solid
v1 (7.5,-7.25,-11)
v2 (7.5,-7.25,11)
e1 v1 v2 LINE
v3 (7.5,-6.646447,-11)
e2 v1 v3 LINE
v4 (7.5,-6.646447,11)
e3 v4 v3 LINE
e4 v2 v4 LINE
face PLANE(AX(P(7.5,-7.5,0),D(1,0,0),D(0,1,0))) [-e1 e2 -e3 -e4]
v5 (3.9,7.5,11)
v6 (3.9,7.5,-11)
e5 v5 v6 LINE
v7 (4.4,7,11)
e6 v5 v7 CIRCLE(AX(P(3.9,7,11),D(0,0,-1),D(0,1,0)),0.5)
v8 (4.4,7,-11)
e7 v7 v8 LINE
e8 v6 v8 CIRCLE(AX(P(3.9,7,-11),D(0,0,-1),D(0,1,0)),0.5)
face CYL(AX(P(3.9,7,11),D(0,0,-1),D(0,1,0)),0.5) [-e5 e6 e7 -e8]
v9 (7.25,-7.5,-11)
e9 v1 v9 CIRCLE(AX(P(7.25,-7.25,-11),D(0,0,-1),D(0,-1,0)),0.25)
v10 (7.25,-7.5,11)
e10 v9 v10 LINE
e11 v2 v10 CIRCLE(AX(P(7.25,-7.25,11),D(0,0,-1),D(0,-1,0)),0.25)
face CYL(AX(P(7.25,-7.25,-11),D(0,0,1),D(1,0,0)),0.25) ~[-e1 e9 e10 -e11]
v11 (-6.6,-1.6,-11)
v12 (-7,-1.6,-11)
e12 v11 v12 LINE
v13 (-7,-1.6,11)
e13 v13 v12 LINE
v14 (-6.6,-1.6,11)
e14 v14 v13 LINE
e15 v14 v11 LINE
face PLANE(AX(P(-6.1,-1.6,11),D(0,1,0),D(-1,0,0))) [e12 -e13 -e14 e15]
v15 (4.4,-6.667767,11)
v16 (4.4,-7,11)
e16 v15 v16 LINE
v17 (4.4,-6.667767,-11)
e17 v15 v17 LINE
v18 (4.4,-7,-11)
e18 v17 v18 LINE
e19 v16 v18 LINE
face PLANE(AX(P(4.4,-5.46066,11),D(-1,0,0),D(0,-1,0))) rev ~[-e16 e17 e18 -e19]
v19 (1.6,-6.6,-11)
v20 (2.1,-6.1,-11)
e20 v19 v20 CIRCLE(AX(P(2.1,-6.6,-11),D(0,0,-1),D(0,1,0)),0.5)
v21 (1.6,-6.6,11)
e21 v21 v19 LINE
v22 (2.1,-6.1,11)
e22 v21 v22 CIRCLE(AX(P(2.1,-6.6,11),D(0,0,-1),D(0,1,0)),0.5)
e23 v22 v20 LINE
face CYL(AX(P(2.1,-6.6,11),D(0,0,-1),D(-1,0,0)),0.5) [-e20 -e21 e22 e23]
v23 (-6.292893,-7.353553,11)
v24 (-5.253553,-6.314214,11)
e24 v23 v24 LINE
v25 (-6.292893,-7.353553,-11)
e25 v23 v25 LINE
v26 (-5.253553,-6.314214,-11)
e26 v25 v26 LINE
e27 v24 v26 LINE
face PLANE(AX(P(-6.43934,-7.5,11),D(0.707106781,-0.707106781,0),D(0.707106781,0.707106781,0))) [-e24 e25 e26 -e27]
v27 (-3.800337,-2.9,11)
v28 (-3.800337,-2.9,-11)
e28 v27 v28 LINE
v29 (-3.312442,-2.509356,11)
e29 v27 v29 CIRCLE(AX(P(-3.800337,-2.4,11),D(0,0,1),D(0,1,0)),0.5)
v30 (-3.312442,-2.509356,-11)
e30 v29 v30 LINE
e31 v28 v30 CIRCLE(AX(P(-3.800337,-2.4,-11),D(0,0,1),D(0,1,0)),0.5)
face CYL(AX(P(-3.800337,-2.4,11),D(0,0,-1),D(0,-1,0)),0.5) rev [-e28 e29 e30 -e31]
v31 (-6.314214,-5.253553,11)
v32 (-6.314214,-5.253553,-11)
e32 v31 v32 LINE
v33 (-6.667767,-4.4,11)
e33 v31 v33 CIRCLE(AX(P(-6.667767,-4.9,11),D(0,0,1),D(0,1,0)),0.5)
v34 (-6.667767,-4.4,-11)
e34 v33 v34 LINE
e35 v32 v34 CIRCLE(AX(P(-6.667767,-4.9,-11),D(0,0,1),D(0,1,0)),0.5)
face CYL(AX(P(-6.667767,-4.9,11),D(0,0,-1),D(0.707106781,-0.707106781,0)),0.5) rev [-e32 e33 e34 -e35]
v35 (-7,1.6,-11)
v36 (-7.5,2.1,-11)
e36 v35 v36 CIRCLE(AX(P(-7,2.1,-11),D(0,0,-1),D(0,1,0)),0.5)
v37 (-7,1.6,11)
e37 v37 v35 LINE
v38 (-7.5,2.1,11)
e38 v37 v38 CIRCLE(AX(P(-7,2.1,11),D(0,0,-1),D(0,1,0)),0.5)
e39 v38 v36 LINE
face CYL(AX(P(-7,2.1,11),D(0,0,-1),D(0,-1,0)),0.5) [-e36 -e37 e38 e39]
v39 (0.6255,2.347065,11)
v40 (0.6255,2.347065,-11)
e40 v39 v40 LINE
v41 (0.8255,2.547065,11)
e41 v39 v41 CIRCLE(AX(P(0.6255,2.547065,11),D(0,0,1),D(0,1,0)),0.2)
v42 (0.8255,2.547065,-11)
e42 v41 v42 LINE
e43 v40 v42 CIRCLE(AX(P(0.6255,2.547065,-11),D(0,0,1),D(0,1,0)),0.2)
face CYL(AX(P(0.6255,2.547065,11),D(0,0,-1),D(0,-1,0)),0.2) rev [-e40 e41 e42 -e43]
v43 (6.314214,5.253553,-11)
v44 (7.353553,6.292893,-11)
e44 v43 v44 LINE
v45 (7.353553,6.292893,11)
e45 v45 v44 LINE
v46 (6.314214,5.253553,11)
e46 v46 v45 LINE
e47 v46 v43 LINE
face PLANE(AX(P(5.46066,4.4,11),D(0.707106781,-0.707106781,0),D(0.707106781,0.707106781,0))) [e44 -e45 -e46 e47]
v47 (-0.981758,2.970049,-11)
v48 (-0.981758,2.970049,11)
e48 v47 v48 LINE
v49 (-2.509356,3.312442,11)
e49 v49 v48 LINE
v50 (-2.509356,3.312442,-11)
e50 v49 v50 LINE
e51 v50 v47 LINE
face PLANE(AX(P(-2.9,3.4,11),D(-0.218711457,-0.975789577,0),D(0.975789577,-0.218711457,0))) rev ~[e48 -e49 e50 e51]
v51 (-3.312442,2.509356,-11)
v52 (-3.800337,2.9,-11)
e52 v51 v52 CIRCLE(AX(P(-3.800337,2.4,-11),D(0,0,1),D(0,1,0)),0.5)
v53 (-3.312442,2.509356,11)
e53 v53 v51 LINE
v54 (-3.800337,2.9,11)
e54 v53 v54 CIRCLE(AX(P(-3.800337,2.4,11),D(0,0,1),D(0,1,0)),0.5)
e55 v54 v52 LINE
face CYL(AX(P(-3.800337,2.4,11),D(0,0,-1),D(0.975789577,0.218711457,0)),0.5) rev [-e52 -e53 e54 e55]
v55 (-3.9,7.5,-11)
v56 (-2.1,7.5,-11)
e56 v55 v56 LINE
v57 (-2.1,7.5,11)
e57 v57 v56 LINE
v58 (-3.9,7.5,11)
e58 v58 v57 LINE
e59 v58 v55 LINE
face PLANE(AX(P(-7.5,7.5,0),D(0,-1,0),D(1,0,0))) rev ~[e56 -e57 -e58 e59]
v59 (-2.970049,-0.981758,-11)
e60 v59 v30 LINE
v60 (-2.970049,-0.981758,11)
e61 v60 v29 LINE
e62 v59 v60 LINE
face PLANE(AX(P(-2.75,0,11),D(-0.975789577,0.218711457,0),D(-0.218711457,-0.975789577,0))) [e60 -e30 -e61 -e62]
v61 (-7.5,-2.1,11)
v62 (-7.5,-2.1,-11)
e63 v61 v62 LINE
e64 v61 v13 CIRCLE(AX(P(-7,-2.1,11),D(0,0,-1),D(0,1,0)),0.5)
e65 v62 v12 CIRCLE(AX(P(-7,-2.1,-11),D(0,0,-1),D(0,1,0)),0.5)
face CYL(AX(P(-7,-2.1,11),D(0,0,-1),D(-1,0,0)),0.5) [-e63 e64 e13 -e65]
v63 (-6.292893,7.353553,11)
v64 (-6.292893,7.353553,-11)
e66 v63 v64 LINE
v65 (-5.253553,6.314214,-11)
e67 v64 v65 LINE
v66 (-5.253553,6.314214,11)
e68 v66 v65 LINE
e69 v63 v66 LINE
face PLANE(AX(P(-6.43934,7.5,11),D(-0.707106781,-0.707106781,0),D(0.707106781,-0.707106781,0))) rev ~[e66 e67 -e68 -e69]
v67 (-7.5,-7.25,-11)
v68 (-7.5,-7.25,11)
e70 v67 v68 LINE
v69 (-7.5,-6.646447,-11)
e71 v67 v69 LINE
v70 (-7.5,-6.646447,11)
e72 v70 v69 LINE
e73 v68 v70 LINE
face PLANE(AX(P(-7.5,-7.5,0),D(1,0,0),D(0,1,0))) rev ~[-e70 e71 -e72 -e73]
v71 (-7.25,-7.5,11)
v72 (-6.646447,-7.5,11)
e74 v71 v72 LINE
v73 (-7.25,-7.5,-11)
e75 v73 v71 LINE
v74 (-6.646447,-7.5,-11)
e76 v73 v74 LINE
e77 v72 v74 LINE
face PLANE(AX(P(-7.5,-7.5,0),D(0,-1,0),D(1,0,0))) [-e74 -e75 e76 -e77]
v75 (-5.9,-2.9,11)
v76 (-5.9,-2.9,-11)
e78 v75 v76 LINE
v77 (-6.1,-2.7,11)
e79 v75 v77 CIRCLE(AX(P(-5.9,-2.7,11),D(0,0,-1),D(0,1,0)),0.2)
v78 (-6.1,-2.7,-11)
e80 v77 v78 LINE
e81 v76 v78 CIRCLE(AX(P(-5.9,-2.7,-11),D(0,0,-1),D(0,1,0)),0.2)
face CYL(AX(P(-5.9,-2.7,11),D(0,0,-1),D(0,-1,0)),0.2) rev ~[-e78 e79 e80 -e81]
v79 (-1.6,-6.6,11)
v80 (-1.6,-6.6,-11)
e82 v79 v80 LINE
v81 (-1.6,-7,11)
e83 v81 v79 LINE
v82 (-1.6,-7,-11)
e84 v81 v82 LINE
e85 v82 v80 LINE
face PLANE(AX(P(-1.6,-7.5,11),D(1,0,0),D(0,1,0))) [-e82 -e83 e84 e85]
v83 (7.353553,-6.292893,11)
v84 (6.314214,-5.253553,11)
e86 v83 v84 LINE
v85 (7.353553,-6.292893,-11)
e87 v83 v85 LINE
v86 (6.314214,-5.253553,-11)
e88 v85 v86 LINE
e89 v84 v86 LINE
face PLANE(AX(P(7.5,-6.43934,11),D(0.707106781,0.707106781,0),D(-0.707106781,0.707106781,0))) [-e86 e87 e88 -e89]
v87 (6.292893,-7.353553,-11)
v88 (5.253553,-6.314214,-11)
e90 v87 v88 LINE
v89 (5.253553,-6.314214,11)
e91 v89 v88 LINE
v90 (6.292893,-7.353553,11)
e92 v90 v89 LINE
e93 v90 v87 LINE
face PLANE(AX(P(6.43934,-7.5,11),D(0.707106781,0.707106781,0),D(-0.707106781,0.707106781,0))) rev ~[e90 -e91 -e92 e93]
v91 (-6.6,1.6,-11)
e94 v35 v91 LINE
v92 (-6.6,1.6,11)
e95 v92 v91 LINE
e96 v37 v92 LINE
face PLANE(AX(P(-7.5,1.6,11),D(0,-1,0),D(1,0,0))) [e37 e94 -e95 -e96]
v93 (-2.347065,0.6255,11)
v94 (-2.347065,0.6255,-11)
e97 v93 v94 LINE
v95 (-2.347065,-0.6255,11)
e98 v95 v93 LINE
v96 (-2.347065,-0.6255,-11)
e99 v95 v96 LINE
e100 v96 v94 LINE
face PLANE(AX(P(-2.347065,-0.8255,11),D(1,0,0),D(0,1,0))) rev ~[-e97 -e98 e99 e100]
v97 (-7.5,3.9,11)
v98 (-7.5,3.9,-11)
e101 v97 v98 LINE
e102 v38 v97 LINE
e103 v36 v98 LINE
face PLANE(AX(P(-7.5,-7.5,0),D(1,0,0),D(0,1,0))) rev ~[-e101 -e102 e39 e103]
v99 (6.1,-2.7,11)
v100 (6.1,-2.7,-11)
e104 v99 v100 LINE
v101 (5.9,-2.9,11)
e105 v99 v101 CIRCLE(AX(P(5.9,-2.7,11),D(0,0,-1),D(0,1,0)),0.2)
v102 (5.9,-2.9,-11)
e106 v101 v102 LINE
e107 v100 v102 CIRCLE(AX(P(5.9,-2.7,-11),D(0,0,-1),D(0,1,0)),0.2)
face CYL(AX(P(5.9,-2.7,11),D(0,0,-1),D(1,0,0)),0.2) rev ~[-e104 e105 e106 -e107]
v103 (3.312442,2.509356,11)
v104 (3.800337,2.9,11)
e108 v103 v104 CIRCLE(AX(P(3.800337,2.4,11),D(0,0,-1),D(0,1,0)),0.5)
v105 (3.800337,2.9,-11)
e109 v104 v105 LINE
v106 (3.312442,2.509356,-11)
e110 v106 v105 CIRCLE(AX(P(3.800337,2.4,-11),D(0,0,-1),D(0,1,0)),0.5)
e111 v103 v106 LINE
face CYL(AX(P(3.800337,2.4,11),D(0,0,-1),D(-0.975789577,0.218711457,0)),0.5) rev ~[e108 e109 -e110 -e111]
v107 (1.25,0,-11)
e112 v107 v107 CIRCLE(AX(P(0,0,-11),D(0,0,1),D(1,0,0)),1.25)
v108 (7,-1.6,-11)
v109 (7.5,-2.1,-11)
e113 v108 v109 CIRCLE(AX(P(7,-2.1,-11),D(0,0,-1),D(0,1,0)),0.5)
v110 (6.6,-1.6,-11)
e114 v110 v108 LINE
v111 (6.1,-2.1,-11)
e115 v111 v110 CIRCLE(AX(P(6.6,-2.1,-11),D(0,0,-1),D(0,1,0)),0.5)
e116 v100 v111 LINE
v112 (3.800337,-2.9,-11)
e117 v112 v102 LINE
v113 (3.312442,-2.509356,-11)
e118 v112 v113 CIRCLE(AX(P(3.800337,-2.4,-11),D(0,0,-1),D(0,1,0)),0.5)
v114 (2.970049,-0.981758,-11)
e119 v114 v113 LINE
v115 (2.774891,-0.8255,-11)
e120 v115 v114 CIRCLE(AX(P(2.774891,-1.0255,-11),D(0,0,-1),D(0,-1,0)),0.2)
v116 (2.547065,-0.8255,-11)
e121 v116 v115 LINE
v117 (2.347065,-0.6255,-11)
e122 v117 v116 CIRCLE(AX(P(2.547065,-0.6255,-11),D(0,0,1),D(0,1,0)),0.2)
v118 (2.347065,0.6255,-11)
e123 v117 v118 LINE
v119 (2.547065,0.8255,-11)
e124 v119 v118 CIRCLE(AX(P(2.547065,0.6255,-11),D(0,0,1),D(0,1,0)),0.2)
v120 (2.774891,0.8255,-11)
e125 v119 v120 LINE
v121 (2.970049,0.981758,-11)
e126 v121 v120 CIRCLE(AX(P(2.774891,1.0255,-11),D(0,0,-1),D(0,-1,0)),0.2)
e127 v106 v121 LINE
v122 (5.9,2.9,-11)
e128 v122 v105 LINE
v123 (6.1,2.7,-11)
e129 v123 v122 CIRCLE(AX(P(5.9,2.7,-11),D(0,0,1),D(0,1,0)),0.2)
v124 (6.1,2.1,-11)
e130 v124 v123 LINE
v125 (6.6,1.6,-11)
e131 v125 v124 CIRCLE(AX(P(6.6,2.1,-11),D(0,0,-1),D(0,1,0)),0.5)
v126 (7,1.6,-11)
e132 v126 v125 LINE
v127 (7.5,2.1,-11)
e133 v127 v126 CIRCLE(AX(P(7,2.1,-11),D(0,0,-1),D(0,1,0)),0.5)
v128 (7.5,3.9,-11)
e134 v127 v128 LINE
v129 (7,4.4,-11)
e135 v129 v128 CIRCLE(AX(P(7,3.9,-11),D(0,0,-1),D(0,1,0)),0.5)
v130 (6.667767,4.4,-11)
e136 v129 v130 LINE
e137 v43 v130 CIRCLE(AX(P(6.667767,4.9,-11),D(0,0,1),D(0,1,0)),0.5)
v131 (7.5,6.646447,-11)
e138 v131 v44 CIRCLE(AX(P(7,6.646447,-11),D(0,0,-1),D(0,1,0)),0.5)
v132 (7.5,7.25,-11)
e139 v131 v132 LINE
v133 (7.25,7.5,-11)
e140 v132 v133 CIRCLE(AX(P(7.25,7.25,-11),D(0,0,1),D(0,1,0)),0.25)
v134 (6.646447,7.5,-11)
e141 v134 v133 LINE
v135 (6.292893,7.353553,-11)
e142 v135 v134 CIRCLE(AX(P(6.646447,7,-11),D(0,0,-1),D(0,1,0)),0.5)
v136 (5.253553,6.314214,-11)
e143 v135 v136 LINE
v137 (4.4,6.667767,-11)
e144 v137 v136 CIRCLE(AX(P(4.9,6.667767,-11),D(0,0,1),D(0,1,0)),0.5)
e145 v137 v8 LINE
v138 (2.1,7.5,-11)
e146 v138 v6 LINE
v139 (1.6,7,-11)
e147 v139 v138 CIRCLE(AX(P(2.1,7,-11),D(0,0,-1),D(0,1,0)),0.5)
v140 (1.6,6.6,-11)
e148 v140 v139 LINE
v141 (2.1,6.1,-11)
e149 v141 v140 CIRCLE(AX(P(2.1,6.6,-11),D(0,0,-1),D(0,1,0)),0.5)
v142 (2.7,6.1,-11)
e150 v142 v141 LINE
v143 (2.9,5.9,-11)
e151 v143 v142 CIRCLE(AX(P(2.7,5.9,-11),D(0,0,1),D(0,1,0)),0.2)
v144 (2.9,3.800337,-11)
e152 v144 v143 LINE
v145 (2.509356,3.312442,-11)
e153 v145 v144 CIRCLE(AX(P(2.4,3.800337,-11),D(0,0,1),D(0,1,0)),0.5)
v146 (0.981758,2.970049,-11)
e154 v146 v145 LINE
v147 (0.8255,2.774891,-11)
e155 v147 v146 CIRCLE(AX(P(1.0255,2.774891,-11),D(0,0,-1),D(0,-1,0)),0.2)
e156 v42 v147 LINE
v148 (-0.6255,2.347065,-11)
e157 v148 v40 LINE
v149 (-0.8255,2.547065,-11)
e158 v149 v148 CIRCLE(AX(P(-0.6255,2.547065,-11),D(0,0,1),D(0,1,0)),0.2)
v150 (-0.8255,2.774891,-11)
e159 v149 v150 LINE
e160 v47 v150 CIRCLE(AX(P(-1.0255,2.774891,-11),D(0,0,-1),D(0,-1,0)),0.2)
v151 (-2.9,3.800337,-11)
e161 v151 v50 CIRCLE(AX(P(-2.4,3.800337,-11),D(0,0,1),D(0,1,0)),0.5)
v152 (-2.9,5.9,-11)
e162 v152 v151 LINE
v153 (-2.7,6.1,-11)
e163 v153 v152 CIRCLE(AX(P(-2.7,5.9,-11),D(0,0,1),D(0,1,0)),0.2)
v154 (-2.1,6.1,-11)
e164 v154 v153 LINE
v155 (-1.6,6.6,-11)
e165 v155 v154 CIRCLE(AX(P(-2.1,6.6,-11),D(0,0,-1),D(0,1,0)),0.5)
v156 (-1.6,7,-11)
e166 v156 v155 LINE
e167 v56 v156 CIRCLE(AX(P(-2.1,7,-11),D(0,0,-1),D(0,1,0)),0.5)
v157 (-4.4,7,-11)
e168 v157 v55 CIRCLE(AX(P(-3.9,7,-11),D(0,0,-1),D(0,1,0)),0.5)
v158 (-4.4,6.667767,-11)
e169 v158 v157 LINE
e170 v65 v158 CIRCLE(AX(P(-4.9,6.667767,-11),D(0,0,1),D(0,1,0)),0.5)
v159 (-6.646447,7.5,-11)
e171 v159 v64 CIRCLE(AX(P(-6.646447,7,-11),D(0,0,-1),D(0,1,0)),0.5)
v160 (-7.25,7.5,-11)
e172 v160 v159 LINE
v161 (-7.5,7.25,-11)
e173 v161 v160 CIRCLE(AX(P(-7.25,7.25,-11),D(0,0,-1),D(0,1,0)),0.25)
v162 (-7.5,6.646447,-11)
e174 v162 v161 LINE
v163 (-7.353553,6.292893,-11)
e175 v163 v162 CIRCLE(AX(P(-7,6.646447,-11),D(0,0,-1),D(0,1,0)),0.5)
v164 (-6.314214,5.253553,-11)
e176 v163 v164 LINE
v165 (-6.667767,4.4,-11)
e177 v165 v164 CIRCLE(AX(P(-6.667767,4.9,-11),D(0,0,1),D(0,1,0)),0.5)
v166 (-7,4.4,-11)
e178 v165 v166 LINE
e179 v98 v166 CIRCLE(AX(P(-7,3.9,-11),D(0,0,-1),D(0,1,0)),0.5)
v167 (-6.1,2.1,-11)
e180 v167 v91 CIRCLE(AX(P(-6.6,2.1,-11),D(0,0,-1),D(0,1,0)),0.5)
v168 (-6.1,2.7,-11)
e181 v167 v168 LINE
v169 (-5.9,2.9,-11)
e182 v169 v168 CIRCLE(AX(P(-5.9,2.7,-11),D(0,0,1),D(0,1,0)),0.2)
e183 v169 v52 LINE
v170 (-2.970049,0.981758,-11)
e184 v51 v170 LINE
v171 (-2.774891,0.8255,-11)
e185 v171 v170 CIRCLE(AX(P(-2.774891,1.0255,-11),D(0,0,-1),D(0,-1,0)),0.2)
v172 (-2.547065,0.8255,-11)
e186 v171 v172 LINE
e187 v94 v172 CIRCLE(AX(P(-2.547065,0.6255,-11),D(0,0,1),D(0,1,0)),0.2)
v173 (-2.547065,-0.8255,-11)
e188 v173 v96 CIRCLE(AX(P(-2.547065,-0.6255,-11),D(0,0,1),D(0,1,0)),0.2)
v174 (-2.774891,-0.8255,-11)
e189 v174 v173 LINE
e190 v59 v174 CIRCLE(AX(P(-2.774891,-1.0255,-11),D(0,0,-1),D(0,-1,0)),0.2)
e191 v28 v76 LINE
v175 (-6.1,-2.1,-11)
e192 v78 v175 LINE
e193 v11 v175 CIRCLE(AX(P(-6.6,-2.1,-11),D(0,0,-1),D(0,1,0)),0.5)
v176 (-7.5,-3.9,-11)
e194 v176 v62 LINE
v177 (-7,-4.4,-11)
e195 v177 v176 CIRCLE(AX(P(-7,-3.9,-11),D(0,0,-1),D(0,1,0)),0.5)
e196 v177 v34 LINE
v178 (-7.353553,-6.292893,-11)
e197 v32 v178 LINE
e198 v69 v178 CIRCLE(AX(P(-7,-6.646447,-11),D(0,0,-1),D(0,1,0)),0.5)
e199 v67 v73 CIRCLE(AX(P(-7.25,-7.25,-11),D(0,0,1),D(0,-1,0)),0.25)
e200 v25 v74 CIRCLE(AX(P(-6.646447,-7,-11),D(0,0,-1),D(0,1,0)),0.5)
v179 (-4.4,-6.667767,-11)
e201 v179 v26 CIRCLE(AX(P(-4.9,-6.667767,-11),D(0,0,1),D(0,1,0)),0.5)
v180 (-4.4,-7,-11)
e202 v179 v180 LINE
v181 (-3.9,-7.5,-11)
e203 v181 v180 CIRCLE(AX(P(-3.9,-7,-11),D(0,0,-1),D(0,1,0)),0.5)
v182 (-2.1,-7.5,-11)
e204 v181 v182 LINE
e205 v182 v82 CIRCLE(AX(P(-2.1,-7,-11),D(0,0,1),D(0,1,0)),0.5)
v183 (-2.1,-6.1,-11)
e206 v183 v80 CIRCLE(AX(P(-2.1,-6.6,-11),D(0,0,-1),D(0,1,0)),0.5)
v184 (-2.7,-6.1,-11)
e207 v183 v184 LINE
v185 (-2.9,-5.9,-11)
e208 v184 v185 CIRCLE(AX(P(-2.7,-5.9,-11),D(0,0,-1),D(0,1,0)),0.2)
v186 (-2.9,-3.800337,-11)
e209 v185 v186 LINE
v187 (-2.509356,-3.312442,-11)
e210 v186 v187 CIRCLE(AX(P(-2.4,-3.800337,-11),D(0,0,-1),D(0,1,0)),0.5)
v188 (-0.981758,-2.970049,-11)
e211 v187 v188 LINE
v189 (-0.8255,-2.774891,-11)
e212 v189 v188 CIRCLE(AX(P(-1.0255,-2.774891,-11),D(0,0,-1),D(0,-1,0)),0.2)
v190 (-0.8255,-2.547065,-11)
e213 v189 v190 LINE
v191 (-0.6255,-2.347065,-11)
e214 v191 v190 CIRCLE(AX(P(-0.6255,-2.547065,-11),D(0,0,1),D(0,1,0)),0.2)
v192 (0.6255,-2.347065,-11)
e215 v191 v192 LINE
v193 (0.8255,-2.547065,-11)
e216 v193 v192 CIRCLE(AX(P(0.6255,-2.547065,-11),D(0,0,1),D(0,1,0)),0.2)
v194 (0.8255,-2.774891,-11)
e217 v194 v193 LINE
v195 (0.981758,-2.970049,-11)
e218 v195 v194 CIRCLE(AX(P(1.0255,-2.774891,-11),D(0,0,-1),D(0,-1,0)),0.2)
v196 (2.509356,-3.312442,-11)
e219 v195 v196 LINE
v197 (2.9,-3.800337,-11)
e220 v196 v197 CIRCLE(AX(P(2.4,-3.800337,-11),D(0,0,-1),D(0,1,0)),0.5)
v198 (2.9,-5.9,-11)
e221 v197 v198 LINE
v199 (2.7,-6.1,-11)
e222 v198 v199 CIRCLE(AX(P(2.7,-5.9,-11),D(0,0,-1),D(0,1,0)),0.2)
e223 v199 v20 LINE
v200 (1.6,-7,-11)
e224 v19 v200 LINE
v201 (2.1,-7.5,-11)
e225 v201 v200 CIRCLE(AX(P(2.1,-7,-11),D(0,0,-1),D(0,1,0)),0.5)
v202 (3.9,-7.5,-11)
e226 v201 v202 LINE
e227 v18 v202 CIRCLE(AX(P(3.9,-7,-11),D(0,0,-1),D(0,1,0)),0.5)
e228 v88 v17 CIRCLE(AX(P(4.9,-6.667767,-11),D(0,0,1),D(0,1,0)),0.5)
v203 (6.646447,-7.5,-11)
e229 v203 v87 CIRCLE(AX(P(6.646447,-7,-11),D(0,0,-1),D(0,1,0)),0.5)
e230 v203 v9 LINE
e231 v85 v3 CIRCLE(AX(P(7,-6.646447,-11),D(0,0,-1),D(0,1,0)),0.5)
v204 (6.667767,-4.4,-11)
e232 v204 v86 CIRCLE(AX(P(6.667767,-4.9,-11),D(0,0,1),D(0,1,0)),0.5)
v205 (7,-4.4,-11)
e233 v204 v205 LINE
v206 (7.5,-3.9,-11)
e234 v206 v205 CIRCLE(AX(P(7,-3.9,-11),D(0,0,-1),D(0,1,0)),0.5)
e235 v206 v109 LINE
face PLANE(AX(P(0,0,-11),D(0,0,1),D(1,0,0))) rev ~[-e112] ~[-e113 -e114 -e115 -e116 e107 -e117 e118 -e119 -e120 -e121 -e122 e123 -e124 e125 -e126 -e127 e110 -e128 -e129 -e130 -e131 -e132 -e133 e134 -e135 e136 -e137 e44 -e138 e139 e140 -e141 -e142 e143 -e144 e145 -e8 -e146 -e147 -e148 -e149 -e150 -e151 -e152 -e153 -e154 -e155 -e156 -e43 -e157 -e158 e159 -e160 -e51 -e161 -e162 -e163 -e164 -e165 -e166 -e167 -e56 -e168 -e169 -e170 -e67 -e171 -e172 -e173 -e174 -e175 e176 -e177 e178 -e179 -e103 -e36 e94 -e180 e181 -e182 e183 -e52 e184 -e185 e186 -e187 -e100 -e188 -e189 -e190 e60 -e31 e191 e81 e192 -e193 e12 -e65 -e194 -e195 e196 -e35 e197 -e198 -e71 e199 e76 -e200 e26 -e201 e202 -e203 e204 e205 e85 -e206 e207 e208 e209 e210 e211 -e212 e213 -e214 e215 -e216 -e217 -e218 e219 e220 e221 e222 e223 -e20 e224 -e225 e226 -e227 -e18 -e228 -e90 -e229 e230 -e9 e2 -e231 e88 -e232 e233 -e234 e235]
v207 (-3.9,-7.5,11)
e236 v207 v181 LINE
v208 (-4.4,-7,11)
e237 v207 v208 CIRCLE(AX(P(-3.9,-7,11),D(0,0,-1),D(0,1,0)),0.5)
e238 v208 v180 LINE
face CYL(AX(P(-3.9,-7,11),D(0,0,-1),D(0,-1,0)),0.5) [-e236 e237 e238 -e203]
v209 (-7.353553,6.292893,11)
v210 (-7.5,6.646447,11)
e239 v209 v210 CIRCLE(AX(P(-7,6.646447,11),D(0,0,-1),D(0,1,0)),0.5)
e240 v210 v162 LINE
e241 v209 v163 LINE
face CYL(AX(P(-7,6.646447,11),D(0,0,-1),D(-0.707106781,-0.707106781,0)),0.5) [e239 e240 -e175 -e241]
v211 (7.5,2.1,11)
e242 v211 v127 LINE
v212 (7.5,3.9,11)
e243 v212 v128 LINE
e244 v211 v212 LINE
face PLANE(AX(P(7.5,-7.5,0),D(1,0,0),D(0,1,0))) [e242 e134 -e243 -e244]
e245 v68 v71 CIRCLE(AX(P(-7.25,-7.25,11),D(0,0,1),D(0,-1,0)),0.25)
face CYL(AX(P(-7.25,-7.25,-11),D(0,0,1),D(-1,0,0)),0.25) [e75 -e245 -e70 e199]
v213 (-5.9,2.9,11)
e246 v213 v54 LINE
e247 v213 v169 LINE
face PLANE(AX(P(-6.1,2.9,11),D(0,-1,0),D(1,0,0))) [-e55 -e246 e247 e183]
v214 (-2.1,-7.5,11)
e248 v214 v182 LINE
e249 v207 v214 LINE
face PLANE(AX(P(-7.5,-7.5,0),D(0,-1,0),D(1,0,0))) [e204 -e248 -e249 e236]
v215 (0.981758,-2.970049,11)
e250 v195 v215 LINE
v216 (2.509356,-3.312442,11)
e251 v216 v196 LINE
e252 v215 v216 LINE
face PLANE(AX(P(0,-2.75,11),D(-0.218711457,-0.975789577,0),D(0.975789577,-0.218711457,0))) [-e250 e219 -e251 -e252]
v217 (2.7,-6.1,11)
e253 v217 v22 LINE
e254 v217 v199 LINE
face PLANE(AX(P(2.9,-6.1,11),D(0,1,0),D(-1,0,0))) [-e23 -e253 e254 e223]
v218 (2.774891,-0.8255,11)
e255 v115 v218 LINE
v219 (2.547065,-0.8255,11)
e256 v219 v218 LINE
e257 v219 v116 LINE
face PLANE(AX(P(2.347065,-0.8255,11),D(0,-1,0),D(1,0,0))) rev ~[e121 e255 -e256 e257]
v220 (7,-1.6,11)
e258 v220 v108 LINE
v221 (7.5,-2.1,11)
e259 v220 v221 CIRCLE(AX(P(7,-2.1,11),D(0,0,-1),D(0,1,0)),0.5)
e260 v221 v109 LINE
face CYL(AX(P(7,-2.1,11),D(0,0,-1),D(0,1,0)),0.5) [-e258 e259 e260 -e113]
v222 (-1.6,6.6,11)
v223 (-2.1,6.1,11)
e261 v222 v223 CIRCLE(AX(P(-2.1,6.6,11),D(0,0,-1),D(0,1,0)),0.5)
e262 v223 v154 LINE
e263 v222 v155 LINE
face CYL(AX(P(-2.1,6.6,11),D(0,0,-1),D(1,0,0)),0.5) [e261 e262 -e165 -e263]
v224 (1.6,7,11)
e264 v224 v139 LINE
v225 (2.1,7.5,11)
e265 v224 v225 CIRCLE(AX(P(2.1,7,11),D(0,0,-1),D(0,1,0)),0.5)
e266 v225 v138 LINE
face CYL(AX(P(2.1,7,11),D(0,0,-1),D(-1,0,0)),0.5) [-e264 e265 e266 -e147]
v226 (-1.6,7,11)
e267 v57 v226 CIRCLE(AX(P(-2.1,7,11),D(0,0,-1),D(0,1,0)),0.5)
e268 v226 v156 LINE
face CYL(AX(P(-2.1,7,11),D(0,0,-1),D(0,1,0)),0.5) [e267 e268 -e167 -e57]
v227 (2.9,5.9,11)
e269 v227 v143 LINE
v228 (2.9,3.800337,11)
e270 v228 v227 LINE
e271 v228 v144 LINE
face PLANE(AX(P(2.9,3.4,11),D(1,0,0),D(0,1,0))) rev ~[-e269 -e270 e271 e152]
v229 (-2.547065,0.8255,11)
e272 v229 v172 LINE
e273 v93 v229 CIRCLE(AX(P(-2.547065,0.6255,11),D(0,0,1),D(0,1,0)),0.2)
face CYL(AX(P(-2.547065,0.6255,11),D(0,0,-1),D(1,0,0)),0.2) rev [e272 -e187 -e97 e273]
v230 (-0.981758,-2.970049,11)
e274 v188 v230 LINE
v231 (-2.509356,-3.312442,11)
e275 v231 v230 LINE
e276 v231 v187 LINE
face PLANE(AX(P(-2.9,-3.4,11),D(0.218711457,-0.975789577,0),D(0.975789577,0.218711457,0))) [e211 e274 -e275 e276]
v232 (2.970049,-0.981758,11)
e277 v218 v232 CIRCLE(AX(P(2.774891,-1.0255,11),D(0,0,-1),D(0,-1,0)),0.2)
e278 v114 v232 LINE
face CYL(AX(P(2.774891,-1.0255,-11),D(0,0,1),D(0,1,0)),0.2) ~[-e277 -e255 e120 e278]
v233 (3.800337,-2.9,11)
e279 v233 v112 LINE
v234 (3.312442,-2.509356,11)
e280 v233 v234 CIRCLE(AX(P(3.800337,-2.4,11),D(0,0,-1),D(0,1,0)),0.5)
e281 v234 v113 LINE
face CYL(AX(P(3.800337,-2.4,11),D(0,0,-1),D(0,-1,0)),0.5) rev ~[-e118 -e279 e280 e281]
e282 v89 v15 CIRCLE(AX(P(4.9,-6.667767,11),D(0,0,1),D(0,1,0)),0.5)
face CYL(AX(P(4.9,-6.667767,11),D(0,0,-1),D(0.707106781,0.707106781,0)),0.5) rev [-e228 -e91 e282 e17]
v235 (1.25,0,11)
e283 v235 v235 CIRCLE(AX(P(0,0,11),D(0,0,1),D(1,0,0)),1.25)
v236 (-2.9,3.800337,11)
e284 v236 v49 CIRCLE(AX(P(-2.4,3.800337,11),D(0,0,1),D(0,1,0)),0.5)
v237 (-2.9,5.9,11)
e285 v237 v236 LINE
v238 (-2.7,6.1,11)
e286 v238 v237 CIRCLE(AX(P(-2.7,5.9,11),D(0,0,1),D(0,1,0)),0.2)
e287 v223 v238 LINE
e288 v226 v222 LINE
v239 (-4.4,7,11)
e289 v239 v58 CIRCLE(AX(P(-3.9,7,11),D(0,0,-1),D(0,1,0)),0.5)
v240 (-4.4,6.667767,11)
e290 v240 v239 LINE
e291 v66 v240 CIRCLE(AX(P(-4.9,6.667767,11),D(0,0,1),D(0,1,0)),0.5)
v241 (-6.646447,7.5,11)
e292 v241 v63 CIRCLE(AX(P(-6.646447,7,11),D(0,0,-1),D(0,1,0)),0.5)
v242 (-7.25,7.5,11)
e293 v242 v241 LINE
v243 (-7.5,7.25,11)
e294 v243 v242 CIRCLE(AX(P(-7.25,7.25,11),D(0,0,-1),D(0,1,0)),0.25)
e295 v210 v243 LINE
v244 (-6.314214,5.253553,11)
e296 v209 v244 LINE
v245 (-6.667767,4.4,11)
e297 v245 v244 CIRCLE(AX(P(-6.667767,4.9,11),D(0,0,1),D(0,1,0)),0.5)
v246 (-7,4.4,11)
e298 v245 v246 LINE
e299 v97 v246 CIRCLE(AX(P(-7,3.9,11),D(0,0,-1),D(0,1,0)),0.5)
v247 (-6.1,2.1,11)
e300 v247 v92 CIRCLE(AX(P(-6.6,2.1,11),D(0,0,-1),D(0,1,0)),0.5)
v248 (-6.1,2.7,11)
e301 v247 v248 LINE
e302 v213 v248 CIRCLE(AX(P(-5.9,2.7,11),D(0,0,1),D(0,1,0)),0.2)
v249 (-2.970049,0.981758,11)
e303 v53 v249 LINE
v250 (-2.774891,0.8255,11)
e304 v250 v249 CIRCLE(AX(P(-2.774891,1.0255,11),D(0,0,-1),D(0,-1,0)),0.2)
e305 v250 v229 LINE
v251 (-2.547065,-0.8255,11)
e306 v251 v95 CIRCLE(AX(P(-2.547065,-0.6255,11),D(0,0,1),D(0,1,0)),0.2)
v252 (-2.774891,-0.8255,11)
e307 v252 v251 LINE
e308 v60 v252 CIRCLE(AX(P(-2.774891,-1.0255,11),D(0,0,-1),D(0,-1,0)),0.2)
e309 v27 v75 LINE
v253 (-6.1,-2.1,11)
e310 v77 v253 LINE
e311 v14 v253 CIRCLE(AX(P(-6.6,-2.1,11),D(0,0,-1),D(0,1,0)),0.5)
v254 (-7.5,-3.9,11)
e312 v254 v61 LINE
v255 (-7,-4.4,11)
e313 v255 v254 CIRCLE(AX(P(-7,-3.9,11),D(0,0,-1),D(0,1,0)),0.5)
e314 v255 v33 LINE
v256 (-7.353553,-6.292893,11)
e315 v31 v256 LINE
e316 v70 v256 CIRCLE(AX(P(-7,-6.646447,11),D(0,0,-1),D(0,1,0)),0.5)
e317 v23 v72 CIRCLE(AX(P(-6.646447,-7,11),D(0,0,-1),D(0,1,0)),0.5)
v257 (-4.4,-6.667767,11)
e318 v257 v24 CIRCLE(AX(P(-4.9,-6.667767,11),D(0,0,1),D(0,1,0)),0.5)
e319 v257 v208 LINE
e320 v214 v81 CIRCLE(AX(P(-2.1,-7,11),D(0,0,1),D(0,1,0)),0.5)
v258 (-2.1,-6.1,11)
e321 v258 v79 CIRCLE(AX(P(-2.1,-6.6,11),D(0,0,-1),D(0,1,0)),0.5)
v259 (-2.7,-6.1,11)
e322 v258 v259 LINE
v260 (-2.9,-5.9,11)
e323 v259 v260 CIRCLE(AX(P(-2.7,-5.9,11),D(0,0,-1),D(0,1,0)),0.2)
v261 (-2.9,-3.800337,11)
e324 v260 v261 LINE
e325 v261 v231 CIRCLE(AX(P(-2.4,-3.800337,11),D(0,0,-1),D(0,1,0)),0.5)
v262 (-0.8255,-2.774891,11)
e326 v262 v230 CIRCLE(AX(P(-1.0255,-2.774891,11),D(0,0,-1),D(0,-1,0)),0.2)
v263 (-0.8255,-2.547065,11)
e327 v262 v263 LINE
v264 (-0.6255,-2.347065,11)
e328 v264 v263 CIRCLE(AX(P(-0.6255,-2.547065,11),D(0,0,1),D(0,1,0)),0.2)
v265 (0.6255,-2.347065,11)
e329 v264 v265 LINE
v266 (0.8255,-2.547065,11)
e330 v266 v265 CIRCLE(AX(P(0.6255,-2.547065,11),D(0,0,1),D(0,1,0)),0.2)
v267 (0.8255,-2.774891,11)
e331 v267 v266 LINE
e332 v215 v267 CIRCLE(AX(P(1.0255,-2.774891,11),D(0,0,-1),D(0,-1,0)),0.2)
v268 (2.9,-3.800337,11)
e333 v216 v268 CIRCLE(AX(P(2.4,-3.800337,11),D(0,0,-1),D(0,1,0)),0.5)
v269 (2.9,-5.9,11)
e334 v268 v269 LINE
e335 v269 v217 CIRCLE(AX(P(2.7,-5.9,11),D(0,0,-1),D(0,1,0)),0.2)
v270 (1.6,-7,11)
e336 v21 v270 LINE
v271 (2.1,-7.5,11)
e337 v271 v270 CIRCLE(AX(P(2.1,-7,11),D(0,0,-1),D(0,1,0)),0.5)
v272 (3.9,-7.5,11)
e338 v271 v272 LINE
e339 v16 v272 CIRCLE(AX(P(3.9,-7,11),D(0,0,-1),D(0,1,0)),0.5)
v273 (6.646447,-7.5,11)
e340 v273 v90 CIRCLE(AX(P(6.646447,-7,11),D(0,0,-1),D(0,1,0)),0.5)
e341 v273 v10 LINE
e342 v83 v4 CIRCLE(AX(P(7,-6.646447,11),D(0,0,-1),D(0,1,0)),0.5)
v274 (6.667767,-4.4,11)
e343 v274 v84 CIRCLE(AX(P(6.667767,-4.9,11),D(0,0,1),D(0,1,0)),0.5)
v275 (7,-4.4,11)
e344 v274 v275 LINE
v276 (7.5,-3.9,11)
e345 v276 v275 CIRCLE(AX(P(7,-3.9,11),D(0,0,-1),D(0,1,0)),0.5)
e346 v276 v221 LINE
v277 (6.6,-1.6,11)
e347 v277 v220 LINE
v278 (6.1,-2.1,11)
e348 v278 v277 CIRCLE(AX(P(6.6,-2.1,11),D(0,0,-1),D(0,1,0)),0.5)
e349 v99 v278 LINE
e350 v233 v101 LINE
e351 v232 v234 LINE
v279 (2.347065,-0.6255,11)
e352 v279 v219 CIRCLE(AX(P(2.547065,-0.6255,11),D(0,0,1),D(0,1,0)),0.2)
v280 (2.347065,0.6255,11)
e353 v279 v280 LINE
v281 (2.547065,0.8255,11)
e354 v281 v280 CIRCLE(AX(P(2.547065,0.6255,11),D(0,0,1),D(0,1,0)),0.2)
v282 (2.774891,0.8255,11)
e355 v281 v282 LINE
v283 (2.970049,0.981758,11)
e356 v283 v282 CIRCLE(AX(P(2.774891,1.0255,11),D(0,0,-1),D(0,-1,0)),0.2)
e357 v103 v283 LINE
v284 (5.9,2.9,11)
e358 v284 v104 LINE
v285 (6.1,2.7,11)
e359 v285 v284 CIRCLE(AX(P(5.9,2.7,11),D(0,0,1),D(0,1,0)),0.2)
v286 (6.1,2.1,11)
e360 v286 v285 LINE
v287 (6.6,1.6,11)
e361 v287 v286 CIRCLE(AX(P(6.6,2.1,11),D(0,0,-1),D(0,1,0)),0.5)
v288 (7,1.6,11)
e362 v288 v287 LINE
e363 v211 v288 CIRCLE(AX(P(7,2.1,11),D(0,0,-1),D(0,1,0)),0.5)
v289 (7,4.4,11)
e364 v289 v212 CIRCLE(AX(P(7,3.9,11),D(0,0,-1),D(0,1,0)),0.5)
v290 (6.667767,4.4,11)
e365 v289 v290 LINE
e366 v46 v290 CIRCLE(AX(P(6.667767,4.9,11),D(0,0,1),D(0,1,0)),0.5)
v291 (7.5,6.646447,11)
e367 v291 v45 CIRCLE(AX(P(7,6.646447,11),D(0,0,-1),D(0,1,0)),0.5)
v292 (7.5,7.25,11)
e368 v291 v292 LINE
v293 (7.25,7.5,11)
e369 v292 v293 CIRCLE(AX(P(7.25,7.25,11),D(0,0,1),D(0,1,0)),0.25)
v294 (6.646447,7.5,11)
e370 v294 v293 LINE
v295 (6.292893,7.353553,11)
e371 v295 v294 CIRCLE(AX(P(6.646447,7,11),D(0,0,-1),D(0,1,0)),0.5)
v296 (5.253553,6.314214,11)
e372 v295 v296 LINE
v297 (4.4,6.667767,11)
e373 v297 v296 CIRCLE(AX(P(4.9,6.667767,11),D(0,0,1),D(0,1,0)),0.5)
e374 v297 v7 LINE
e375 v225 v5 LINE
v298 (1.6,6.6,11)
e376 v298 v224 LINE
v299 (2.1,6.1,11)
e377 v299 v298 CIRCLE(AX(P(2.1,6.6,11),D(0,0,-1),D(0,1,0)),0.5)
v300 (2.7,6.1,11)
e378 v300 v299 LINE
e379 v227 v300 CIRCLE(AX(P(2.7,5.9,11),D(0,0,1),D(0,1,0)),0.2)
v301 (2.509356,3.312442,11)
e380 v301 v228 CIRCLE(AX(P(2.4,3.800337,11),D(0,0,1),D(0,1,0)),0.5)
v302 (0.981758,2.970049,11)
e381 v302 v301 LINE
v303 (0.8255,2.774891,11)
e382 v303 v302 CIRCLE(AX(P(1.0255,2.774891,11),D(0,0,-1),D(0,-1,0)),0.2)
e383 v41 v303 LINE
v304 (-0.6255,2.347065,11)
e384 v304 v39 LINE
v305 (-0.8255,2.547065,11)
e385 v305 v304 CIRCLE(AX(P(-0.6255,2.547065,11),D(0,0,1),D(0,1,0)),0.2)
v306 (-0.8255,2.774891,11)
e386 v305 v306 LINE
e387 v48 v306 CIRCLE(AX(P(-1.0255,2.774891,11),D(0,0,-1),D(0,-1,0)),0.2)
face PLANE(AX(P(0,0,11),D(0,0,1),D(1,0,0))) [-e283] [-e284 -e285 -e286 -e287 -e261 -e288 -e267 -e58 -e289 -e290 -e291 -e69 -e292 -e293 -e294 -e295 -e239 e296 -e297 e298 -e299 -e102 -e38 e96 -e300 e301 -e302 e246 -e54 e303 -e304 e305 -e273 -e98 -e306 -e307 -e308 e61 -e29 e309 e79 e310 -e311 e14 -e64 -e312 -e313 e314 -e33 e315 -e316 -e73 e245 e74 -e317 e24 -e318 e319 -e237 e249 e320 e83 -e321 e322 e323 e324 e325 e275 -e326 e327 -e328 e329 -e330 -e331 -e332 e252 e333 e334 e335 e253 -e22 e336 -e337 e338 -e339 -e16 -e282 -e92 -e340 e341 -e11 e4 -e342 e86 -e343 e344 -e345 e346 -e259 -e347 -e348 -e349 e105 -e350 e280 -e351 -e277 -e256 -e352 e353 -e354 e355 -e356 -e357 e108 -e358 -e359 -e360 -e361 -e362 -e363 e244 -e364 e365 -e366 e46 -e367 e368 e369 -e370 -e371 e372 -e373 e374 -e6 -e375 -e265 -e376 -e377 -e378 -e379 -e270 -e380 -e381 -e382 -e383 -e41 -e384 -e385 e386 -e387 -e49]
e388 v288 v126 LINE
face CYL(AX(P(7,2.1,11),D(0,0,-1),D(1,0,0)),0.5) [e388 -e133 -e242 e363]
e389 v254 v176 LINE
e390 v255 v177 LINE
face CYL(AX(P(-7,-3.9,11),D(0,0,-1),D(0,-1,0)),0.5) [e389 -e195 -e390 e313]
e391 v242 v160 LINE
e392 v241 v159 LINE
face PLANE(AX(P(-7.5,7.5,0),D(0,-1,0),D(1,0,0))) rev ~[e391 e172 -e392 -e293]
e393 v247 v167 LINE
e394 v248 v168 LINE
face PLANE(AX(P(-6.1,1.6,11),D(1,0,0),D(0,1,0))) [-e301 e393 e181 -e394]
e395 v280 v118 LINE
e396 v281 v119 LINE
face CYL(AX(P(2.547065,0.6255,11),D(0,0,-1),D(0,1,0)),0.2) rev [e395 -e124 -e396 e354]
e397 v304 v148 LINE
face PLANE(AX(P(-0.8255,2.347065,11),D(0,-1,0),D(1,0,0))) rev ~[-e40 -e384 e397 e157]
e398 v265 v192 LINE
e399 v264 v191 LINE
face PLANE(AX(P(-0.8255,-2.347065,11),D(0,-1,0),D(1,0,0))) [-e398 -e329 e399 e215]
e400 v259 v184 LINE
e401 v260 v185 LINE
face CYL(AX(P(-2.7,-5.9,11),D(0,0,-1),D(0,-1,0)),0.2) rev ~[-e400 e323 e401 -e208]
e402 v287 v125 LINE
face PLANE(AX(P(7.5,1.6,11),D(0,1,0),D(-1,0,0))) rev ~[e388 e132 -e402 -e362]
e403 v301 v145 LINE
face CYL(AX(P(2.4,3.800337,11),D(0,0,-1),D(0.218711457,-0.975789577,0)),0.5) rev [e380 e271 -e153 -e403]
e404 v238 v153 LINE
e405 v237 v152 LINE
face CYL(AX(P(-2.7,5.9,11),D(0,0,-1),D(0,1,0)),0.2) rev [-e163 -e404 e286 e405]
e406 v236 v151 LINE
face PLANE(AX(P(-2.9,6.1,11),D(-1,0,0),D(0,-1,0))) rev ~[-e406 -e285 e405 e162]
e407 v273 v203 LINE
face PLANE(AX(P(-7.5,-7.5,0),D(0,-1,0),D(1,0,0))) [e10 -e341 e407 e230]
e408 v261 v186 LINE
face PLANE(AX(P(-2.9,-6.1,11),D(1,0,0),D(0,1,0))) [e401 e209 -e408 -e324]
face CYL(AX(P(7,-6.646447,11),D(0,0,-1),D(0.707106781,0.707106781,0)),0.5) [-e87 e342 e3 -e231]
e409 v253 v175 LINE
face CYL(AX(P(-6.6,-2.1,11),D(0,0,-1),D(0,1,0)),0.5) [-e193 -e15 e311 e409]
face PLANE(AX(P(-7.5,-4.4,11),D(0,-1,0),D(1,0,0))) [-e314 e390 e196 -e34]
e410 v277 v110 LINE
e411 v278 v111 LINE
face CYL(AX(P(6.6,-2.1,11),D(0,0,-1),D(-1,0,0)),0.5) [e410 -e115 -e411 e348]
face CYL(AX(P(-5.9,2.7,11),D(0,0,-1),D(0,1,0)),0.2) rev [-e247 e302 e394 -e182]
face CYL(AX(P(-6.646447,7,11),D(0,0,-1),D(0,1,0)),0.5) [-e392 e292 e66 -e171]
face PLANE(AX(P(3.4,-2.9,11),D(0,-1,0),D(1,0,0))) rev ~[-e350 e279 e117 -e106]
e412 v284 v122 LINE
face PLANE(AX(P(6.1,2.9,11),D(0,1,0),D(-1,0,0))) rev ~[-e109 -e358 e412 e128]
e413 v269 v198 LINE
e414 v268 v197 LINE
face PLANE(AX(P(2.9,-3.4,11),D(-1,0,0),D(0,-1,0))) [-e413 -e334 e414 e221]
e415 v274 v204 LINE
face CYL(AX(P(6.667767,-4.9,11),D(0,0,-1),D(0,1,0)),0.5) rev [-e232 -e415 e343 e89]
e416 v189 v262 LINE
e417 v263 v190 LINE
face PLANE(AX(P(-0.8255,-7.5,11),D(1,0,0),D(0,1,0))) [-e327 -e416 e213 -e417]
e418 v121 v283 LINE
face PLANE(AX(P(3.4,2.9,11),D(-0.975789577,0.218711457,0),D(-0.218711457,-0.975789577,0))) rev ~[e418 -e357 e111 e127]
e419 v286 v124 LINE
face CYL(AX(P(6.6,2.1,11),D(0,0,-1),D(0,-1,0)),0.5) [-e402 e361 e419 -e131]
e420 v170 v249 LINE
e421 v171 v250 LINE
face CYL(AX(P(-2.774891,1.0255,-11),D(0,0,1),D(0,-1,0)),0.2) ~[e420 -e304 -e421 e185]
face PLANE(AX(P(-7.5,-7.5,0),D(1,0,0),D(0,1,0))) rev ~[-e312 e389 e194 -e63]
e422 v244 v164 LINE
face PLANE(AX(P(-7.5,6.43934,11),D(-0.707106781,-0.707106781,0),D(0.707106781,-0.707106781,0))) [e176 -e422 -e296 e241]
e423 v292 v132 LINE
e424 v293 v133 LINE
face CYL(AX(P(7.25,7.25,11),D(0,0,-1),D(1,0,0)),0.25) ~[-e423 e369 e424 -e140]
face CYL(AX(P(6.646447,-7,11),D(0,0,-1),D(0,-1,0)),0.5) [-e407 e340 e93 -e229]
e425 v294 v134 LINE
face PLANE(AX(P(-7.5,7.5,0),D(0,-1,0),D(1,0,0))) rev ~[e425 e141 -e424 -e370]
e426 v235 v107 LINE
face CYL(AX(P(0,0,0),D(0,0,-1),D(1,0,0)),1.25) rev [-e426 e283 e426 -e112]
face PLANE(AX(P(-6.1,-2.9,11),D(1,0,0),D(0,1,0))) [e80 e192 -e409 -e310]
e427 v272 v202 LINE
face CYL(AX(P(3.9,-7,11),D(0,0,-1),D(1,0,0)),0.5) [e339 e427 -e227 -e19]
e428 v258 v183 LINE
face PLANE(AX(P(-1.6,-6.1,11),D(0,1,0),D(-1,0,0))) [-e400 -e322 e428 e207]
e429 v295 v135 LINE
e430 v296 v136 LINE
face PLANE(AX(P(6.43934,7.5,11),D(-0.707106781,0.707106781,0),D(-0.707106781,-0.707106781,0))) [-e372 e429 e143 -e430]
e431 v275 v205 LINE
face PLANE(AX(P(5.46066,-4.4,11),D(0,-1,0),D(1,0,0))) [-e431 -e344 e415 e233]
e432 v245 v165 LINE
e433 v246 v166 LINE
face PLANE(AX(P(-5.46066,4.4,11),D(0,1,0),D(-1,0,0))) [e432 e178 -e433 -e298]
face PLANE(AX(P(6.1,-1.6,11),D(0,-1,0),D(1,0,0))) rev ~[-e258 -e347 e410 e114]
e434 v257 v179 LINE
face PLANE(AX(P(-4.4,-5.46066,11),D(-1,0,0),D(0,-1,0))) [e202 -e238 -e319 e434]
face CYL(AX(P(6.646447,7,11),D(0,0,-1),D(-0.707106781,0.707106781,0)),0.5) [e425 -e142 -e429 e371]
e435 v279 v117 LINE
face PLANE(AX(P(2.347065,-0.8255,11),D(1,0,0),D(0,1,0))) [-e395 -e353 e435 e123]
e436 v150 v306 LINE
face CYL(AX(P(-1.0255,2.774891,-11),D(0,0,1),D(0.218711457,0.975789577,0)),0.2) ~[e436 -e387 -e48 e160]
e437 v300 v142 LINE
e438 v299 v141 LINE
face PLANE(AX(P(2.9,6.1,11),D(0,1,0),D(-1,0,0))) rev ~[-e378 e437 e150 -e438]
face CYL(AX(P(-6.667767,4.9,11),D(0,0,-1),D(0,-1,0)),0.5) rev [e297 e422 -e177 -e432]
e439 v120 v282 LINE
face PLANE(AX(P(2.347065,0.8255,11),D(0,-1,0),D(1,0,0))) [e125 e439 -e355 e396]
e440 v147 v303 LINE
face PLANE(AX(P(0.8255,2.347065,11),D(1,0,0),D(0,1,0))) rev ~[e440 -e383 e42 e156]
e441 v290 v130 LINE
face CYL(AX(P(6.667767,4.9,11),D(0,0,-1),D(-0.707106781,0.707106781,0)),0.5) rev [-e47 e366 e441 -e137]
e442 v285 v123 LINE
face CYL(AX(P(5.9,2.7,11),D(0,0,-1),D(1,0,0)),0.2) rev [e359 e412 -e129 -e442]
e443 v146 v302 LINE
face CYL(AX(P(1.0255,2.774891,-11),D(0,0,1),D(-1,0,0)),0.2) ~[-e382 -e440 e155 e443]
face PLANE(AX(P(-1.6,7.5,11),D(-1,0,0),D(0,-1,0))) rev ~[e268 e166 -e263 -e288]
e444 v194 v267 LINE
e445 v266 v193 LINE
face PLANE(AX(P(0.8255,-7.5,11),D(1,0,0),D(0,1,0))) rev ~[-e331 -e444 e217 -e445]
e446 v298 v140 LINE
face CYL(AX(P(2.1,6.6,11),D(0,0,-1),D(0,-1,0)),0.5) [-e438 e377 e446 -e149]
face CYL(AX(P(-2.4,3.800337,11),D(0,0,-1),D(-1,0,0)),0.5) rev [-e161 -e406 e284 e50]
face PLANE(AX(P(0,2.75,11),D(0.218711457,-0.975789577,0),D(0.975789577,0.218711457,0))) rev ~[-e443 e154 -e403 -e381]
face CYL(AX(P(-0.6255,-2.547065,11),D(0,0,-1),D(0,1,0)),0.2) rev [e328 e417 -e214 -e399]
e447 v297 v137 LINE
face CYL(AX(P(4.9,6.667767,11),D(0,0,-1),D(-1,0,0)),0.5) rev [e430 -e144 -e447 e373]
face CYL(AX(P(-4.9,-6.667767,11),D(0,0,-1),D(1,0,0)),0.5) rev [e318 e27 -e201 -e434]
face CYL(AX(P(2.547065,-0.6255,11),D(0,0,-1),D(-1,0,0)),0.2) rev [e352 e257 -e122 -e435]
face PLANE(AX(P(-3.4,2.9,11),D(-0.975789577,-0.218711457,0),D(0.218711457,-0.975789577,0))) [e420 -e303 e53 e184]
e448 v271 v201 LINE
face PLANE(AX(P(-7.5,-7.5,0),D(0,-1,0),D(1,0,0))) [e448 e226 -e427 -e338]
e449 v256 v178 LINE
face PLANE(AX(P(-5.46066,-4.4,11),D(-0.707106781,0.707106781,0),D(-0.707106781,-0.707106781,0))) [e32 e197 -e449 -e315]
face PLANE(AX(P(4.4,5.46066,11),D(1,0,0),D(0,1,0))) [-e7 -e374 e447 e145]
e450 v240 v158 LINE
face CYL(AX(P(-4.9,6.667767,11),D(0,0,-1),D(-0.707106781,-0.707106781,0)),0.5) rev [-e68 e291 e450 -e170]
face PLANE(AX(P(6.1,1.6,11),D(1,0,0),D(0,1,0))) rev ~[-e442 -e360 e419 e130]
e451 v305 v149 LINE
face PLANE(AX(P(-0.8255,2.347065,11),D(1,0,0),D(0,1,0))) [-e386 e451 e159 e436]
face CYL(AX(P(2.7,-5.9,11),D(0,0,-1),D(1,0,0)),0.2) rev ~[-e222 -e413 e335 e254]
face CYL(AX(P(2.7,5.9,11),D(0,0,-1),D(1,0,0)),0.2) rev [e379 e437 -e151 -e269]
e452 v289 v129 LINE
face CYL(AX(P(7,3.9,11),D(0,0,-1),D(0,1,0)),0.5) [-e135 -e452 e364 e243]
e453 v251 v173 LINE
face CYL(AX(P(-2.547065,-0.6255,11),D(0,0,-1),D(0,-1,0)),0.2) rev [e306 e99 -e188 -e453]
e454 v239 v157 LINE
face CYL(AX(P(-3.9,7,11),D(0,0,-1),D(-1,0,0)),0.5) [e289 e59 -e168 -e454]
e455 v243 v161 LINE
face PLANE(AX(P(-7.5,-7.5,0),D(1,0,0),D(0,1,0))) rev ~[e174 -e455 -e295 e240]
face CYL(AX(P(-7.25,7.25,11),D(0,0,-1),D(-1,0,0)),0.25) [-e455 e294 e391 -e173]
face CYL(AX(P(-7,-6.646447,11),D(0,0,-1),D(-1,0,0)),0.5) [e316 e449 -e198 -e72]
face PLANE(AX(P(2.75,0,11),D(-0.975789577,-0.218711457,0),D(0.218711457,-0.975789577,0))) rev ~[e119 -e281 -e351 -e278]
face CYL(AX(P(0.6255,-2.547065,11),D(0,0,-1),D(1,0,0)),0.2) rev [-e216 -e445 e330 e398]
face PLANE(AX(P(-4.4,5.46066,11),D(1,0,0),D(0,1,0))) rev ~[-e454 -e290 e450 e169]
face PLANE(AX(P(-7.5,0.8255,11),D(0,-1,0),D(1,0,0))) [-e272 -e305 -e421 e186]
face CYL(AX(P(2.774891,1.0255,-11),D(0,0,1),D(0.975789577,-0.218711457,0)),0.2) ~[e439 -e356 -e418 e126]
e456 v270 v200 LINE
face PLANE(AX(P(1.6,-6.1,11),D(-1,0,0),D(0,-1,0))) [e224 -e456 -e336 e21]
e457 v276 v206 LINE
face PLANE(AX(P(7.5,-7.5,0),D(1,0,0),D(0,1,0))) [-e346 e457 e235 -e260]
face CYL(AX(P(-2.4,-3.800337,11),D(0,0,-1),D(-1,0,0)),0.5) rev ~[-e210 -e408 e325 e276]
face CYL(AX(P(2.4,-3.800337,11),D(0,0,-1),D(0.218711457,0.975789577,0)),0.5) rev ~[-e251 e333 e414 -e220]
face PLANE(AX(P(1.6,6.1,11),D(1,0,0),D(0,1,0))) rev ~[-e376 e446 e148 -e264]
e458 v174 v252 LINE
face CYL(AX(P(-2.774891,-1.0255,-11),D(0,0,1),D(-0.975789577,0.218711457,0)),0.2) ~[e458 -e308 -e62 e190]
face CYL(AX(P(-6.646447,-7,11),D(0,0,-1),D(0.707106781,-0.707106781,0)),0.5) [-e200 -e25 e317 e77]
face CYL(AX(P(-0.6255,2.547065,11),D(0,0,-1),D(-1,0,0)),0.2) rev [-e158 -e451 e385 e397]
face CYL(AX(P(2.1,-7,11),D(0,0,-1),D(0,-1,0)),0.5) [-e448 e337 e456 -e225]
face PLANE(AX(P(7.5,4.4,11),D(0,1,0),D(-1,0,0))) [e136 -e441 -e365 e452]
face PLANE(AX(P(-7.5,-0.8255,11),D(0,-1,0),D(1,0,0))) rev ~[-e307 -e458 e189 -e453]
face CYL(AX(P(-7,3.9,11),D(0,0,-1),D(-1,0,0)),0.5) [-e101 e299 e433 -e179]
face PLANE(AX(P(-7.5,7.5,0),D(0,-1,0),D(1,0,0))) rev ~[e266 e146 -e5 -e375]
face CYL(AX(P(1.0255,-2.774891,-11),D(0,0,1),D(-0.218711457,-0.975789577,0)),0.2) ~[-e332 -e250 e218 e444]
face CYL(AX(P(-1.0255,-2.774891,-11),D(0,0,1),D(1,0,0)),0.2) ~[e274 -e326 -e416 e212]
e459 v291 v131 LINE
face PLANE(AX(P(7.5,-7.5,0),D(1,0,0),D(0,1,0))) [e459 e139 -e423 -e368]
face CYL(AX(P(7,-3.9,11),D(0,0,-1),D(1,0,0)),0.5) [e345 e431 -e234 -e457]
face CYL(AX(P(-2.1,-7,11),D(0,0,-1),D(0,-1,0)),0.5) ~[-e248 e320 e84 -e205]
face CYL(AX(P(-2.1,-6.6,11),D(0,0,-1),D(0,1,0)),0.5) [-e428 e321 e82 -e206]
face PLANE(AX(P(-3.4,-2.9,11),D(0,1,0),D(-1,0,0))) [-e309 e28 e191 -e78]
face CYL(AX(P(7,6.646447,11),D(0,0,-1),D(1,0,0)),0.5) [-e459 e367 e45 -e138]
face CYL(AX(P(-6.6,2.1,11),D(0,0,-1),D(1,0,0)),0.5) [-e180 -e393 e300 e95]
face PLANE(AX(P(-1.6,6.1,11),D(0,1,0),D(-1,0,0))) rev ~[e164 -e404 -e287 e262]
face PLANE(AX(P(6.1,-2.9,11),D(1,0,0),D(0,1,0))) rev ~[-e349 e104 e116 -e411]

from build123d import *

# Parameters (mm, degrees)
SKETCH1_W           = 15
SKETCH1_H           = 15
SKETCH1_R           = 1.25
BOSS_EXTRUDE1_DEPTH = 11
FILLET1_R           = 0.25
CUT_EXTRUDE1_DEPTH  = 25.423349484
CUT_EXTRUDE3_DEPTH  = 25.423349484
FILLET3_R           = 0.5
FILLET4_R           = 0.5
FILLET5_R           = 3
FILLET6_R           = 0.2
CUT_EXTRUDE4_DEPTH  = 25.423349484
FILLET8_R           = 0.5
SKETCH6_W           = 5.1529354
SKETCH6_H           = 1.651
SKETCH6_W_2         = 1.651
SKETCH6_H_2         = 5.1529354
CUT_EXTRUDE5_DEPTH  = 25.423349484
FILLET10_R          = 0.2


with BuildPart() as part:
    # Sketch1 → Boss-Extrude1 (new, symmetric)
    with BuildSketch(Plane.XY):
        Rectangle(SKETCH1_W, SKETCH1_H)
        Circle(SKETCH1_R, mode=Mode.SUBTRACT)
    extrude(amount=BOSS_EXTRUDE1_DEPTH, both=True)

    # Fillet1
    fillet1_edges = [part.edges().sort_by_distance(p)[0] for p in [
        (7.5, -7.5, 0),
        (-7.5, -7.5, 0),
        (-7.5, 7.5, 0),
        (7.5, 7.5, 0),
    ]]
    fillet(fillet1_edges, radius=FILLET1_R)

    # Sketch2 → Cut-Extrude1 (cut, through all)
    with BuildSketch(Plane.XY.offset(11)):
        Polygon((-7.5, 1.6), (-6.1, 1.6), (-6.1, 2.9), (-3.4, 2.9), (-3.4, -2.9), (-6.1, -2.9), (-6.1, -1.6), (-7.5, -1.6), align=None)
        Polygon((2.9, 6.1), (1.6, 6.1), (1.6, 7.5), (-1.6, 7.5), (-1.6, 6.1), (-2.9, 6.1), (-2.9, 3.4), (2.9, 3.4), align=None)
        Polygon((-1.6, -7.5), (-1.6, -6.1), (-2.9, -6.1), (-2.9, -3.4), (2.9, -3.4), (2.9, -6.1), (1.6, -6.1), (1.6, -7.5), align=None)
        Polygon((6.1, -2.9), (6.1, -1.6), (7.5, -1.6), (7.5, 1.6), (6.1, 1.6), (6.1, 2.9), (3.4, 2.9), (3.4, -2.9), align=None)
    extrude(amount=-CUT_EXTRUDE1_DEPTH, mode=Mode.SUBTRACT)

    # Sketch4 → Cut-Extrude3 (cut, through all)
    with BuildSketch(Plane.XY.offset(11)):
        Polygon((-3.4, 2.9), (-2.75, 0), (-3.4, -2.9), align=None)
        Polygon((-2.9, 3.4), (0, 2.75), (2.9, 3.4), align=None)
        Polygon((3.4, 2.9), (2.75, 0), (3.4, -2.9), align=None)
        Polygon((-2.9, -3.4), (0, -2.75), (2.9, -3.4), align=None)
    extrude(amount=-CUT_EXTRUDE3_DEPTH, mode=Mode.SUBTRACT)

    # Fillet3
    fillet3_edges = [part.edges().sort_by_distance(p)[0] for p in [
        (1.6, -7.5, 0),
        (-1.6, -7.5, 0),
        (-1.6, -6.1, 0),
        (1.6, -6.1, 0),
        (6.1, 1.6, 0),
        (7.5, 1.6, 0),
        (7.5, -1.6, 0),
        (6.1, -1.6, 0),
        (-7.5, -1.6, 0),
        (-7.5, 1.6, 0),
        (-6.1, 1.6, 0),
        (-6.1, -1.6, 0),
        (-1.6, 6.1, 0),
        (-1.6, 7.5, 0),
        (1.6, 7.5, 0),
        (1.6, 6.1, 0),
    ]]
    fillet(fillet3_edges, radius=FILLET3_R)

    # Fillet4
    fillet4_edges = [part.edges().sort_by_distance(p)[0] for p in [
        (-2.9, -3.4, 0),
        (2.9, -3.4, 0),
        (3.4, -2.9, 0),
        (3.4, 2.9, 0),
        (-3.4, 2.9, 0),
        (-3.4, -2.9, 0),
        (2.9, 3.4, 0),
        (-2.9, 3.4, 0),
    ]]
    fillet(fillet4_edges, radius=FILLET4_R)

    # Fillet5
    fillet5_edges = [part.edges().sort_by_distance(p)[0] for p in [
        (-2.75, 0, 0),
        (0, 2.75, 0),
        (2.75, 0, 0),
        (0, -2.75, 0),
    ]]
    fillet(fillet5_edges, radius=FILLET5_R)

    # Fillet6
    fillet6_edges = [part.edges().sort_by_distance(p)[0] for p in [
        (-2.9, -6.1, 0),
        (2.9, -6.1, 0),
        (6.1, -2.9, 0),
        (6.1, 2.9, 0),
        (-6.1, 2.9, 0),
        (-6.1, -2.9, 0),
        (2.9, 6.1, 0),
        (-2.9, 6.1, 0),
    ]]
    fillet(fillet6_edges, radius=FILLET6_R)

    # Sketch5 → Cut-Extrude4 (cut, through all)
    with BuildSketch(Plane.XY.offset(11)):
        Polygon((-7.5, 6.439339828), (-5.460660172, 4.4), (-7.5, 4.4), align=None)
        Polygon((-6.439339828, 7.5), (-4.4, 5.460660172), (-4.4, 7.5), align=None)
        Polygon((4.4, 7.5), (6.439339828, 7.5), (4.4, 5.460660172), align=None)
        Polygon((7.5, 6.439339828), (7.5, 4.4), (5.460660172, 4.4), align=None)
        Polygon((7.5, -6.439339828), (5.460660172, -4.4), (7.5, -4.4), align=None)
        Polygon((6.439339828, -7.5), (4.4, -5.460660172), (4.4, -7.5), align=None)
        Polygon((-4.4, -7.5), (-6.439339828, -7.5), (-4.4, -5.460660172), align=None)
        Polygon((-7.5, -6.439339828), (-7.5, -4.4), (-5.460660172, -4.4), align=None)
    extrude(amount=-CUT_EXTRUDE4_DEPTH, mode=Mode.SUBTRACT)

    # Fillet8
    fillet8_edges = [part.edges().sort_by_distance(p)[0] for p in [
        (-7.5, 4.4, 0),
        (-7.5, 6.439339828, 0),
        (-5.460660172, 4.4, 0),
        (7.5, -4.4, 0),
        (7.5, -6.439339828, 0),
        (5.460660172, -4.4, 0),
        (5.460660172, 4.4, 0),
        (7.5, 6.439339828, 0),
        (7.5, 4.4, 0),
        (-4.4, 7.5, 0),
        (-4.4, 5.460660172, 0),
        (-6.439339828, 7.5, 0),
        (-5.460660172, -4.4, 0),
        (-7.5, -6.439339828, 0),
        (-7.5, -4.4, 0),
        (4.4, 5.460660172, 0),
        (4.4, 7.5, 0),
        (6.439339828, 7.5, 0),
        (6.439339828, -7.5, 0),
        (4.4, -7.5, 0),
        (4.4, -5.460660172, 0),
        (-6.439339828, -7.5, 0),
        (-4.4, -5.460660172, 0),
        (-4.4, -7.5, 0),
    ]]
    fillet(fillet8_edges, radius=FILLET8_R)

    # Sketch6 → Cut-Extrude5 (cut, through all)
    with BuildSketch(Plane.XY.offset(11)):
        with Locations((4.9235323, 0)):
            Rectangle(SKETCH6_W, SKETCH6_H)
        with Locations((0, -4.9235323)):
            Rectangle(SKETCH6_W_2, SKETCH6_H_2)
        with Locations((-4.9235323, 0)):
            Rectangle(SKETCH6_W, SKETCH6_H)
        with Locations((0, 4.9235323)):
            Rectangle(SKETCH6_W_2, SKETCH6_H_2)
    extrude(amount=-CUT_EXTRUDE5_DEPTH, mode=Mode.SUBTRACT)

    # Fillet10
    fillet10_edges = [part.edges().sort_by_distance(p)[0] for p in [
        (0.8255, -2.935025862, 0),
        (-0.8255, -2.935025862, 0),
        (0.8255, -2.3470646, 0),
        (-0.8255, -2.3470646, 0),
        (2.935025862, 0.8255, 0),
        (2.935025862, -0.8255, 0),
        (2.3470646, 0.8255, 0),
        (2.3470646, -0.8255, 0),
        (-2.935025862, -0.8255, 0),
        (-2.935025862, 0.8255, 0),
        (-2.3470646, -0.8255, 0),
        (-2.3470646, 0.8255, 0),
        (-0.8255, 2.935025862, 0),
        (0.8255, 2.935025862, 0),
        (-0.8255, 2.3470646, 0),
        (0.8255, 2.3470646, 0),
    ]]
    fillet(fillet10_edges, radius=FILLET10_R)


solid = part.part
